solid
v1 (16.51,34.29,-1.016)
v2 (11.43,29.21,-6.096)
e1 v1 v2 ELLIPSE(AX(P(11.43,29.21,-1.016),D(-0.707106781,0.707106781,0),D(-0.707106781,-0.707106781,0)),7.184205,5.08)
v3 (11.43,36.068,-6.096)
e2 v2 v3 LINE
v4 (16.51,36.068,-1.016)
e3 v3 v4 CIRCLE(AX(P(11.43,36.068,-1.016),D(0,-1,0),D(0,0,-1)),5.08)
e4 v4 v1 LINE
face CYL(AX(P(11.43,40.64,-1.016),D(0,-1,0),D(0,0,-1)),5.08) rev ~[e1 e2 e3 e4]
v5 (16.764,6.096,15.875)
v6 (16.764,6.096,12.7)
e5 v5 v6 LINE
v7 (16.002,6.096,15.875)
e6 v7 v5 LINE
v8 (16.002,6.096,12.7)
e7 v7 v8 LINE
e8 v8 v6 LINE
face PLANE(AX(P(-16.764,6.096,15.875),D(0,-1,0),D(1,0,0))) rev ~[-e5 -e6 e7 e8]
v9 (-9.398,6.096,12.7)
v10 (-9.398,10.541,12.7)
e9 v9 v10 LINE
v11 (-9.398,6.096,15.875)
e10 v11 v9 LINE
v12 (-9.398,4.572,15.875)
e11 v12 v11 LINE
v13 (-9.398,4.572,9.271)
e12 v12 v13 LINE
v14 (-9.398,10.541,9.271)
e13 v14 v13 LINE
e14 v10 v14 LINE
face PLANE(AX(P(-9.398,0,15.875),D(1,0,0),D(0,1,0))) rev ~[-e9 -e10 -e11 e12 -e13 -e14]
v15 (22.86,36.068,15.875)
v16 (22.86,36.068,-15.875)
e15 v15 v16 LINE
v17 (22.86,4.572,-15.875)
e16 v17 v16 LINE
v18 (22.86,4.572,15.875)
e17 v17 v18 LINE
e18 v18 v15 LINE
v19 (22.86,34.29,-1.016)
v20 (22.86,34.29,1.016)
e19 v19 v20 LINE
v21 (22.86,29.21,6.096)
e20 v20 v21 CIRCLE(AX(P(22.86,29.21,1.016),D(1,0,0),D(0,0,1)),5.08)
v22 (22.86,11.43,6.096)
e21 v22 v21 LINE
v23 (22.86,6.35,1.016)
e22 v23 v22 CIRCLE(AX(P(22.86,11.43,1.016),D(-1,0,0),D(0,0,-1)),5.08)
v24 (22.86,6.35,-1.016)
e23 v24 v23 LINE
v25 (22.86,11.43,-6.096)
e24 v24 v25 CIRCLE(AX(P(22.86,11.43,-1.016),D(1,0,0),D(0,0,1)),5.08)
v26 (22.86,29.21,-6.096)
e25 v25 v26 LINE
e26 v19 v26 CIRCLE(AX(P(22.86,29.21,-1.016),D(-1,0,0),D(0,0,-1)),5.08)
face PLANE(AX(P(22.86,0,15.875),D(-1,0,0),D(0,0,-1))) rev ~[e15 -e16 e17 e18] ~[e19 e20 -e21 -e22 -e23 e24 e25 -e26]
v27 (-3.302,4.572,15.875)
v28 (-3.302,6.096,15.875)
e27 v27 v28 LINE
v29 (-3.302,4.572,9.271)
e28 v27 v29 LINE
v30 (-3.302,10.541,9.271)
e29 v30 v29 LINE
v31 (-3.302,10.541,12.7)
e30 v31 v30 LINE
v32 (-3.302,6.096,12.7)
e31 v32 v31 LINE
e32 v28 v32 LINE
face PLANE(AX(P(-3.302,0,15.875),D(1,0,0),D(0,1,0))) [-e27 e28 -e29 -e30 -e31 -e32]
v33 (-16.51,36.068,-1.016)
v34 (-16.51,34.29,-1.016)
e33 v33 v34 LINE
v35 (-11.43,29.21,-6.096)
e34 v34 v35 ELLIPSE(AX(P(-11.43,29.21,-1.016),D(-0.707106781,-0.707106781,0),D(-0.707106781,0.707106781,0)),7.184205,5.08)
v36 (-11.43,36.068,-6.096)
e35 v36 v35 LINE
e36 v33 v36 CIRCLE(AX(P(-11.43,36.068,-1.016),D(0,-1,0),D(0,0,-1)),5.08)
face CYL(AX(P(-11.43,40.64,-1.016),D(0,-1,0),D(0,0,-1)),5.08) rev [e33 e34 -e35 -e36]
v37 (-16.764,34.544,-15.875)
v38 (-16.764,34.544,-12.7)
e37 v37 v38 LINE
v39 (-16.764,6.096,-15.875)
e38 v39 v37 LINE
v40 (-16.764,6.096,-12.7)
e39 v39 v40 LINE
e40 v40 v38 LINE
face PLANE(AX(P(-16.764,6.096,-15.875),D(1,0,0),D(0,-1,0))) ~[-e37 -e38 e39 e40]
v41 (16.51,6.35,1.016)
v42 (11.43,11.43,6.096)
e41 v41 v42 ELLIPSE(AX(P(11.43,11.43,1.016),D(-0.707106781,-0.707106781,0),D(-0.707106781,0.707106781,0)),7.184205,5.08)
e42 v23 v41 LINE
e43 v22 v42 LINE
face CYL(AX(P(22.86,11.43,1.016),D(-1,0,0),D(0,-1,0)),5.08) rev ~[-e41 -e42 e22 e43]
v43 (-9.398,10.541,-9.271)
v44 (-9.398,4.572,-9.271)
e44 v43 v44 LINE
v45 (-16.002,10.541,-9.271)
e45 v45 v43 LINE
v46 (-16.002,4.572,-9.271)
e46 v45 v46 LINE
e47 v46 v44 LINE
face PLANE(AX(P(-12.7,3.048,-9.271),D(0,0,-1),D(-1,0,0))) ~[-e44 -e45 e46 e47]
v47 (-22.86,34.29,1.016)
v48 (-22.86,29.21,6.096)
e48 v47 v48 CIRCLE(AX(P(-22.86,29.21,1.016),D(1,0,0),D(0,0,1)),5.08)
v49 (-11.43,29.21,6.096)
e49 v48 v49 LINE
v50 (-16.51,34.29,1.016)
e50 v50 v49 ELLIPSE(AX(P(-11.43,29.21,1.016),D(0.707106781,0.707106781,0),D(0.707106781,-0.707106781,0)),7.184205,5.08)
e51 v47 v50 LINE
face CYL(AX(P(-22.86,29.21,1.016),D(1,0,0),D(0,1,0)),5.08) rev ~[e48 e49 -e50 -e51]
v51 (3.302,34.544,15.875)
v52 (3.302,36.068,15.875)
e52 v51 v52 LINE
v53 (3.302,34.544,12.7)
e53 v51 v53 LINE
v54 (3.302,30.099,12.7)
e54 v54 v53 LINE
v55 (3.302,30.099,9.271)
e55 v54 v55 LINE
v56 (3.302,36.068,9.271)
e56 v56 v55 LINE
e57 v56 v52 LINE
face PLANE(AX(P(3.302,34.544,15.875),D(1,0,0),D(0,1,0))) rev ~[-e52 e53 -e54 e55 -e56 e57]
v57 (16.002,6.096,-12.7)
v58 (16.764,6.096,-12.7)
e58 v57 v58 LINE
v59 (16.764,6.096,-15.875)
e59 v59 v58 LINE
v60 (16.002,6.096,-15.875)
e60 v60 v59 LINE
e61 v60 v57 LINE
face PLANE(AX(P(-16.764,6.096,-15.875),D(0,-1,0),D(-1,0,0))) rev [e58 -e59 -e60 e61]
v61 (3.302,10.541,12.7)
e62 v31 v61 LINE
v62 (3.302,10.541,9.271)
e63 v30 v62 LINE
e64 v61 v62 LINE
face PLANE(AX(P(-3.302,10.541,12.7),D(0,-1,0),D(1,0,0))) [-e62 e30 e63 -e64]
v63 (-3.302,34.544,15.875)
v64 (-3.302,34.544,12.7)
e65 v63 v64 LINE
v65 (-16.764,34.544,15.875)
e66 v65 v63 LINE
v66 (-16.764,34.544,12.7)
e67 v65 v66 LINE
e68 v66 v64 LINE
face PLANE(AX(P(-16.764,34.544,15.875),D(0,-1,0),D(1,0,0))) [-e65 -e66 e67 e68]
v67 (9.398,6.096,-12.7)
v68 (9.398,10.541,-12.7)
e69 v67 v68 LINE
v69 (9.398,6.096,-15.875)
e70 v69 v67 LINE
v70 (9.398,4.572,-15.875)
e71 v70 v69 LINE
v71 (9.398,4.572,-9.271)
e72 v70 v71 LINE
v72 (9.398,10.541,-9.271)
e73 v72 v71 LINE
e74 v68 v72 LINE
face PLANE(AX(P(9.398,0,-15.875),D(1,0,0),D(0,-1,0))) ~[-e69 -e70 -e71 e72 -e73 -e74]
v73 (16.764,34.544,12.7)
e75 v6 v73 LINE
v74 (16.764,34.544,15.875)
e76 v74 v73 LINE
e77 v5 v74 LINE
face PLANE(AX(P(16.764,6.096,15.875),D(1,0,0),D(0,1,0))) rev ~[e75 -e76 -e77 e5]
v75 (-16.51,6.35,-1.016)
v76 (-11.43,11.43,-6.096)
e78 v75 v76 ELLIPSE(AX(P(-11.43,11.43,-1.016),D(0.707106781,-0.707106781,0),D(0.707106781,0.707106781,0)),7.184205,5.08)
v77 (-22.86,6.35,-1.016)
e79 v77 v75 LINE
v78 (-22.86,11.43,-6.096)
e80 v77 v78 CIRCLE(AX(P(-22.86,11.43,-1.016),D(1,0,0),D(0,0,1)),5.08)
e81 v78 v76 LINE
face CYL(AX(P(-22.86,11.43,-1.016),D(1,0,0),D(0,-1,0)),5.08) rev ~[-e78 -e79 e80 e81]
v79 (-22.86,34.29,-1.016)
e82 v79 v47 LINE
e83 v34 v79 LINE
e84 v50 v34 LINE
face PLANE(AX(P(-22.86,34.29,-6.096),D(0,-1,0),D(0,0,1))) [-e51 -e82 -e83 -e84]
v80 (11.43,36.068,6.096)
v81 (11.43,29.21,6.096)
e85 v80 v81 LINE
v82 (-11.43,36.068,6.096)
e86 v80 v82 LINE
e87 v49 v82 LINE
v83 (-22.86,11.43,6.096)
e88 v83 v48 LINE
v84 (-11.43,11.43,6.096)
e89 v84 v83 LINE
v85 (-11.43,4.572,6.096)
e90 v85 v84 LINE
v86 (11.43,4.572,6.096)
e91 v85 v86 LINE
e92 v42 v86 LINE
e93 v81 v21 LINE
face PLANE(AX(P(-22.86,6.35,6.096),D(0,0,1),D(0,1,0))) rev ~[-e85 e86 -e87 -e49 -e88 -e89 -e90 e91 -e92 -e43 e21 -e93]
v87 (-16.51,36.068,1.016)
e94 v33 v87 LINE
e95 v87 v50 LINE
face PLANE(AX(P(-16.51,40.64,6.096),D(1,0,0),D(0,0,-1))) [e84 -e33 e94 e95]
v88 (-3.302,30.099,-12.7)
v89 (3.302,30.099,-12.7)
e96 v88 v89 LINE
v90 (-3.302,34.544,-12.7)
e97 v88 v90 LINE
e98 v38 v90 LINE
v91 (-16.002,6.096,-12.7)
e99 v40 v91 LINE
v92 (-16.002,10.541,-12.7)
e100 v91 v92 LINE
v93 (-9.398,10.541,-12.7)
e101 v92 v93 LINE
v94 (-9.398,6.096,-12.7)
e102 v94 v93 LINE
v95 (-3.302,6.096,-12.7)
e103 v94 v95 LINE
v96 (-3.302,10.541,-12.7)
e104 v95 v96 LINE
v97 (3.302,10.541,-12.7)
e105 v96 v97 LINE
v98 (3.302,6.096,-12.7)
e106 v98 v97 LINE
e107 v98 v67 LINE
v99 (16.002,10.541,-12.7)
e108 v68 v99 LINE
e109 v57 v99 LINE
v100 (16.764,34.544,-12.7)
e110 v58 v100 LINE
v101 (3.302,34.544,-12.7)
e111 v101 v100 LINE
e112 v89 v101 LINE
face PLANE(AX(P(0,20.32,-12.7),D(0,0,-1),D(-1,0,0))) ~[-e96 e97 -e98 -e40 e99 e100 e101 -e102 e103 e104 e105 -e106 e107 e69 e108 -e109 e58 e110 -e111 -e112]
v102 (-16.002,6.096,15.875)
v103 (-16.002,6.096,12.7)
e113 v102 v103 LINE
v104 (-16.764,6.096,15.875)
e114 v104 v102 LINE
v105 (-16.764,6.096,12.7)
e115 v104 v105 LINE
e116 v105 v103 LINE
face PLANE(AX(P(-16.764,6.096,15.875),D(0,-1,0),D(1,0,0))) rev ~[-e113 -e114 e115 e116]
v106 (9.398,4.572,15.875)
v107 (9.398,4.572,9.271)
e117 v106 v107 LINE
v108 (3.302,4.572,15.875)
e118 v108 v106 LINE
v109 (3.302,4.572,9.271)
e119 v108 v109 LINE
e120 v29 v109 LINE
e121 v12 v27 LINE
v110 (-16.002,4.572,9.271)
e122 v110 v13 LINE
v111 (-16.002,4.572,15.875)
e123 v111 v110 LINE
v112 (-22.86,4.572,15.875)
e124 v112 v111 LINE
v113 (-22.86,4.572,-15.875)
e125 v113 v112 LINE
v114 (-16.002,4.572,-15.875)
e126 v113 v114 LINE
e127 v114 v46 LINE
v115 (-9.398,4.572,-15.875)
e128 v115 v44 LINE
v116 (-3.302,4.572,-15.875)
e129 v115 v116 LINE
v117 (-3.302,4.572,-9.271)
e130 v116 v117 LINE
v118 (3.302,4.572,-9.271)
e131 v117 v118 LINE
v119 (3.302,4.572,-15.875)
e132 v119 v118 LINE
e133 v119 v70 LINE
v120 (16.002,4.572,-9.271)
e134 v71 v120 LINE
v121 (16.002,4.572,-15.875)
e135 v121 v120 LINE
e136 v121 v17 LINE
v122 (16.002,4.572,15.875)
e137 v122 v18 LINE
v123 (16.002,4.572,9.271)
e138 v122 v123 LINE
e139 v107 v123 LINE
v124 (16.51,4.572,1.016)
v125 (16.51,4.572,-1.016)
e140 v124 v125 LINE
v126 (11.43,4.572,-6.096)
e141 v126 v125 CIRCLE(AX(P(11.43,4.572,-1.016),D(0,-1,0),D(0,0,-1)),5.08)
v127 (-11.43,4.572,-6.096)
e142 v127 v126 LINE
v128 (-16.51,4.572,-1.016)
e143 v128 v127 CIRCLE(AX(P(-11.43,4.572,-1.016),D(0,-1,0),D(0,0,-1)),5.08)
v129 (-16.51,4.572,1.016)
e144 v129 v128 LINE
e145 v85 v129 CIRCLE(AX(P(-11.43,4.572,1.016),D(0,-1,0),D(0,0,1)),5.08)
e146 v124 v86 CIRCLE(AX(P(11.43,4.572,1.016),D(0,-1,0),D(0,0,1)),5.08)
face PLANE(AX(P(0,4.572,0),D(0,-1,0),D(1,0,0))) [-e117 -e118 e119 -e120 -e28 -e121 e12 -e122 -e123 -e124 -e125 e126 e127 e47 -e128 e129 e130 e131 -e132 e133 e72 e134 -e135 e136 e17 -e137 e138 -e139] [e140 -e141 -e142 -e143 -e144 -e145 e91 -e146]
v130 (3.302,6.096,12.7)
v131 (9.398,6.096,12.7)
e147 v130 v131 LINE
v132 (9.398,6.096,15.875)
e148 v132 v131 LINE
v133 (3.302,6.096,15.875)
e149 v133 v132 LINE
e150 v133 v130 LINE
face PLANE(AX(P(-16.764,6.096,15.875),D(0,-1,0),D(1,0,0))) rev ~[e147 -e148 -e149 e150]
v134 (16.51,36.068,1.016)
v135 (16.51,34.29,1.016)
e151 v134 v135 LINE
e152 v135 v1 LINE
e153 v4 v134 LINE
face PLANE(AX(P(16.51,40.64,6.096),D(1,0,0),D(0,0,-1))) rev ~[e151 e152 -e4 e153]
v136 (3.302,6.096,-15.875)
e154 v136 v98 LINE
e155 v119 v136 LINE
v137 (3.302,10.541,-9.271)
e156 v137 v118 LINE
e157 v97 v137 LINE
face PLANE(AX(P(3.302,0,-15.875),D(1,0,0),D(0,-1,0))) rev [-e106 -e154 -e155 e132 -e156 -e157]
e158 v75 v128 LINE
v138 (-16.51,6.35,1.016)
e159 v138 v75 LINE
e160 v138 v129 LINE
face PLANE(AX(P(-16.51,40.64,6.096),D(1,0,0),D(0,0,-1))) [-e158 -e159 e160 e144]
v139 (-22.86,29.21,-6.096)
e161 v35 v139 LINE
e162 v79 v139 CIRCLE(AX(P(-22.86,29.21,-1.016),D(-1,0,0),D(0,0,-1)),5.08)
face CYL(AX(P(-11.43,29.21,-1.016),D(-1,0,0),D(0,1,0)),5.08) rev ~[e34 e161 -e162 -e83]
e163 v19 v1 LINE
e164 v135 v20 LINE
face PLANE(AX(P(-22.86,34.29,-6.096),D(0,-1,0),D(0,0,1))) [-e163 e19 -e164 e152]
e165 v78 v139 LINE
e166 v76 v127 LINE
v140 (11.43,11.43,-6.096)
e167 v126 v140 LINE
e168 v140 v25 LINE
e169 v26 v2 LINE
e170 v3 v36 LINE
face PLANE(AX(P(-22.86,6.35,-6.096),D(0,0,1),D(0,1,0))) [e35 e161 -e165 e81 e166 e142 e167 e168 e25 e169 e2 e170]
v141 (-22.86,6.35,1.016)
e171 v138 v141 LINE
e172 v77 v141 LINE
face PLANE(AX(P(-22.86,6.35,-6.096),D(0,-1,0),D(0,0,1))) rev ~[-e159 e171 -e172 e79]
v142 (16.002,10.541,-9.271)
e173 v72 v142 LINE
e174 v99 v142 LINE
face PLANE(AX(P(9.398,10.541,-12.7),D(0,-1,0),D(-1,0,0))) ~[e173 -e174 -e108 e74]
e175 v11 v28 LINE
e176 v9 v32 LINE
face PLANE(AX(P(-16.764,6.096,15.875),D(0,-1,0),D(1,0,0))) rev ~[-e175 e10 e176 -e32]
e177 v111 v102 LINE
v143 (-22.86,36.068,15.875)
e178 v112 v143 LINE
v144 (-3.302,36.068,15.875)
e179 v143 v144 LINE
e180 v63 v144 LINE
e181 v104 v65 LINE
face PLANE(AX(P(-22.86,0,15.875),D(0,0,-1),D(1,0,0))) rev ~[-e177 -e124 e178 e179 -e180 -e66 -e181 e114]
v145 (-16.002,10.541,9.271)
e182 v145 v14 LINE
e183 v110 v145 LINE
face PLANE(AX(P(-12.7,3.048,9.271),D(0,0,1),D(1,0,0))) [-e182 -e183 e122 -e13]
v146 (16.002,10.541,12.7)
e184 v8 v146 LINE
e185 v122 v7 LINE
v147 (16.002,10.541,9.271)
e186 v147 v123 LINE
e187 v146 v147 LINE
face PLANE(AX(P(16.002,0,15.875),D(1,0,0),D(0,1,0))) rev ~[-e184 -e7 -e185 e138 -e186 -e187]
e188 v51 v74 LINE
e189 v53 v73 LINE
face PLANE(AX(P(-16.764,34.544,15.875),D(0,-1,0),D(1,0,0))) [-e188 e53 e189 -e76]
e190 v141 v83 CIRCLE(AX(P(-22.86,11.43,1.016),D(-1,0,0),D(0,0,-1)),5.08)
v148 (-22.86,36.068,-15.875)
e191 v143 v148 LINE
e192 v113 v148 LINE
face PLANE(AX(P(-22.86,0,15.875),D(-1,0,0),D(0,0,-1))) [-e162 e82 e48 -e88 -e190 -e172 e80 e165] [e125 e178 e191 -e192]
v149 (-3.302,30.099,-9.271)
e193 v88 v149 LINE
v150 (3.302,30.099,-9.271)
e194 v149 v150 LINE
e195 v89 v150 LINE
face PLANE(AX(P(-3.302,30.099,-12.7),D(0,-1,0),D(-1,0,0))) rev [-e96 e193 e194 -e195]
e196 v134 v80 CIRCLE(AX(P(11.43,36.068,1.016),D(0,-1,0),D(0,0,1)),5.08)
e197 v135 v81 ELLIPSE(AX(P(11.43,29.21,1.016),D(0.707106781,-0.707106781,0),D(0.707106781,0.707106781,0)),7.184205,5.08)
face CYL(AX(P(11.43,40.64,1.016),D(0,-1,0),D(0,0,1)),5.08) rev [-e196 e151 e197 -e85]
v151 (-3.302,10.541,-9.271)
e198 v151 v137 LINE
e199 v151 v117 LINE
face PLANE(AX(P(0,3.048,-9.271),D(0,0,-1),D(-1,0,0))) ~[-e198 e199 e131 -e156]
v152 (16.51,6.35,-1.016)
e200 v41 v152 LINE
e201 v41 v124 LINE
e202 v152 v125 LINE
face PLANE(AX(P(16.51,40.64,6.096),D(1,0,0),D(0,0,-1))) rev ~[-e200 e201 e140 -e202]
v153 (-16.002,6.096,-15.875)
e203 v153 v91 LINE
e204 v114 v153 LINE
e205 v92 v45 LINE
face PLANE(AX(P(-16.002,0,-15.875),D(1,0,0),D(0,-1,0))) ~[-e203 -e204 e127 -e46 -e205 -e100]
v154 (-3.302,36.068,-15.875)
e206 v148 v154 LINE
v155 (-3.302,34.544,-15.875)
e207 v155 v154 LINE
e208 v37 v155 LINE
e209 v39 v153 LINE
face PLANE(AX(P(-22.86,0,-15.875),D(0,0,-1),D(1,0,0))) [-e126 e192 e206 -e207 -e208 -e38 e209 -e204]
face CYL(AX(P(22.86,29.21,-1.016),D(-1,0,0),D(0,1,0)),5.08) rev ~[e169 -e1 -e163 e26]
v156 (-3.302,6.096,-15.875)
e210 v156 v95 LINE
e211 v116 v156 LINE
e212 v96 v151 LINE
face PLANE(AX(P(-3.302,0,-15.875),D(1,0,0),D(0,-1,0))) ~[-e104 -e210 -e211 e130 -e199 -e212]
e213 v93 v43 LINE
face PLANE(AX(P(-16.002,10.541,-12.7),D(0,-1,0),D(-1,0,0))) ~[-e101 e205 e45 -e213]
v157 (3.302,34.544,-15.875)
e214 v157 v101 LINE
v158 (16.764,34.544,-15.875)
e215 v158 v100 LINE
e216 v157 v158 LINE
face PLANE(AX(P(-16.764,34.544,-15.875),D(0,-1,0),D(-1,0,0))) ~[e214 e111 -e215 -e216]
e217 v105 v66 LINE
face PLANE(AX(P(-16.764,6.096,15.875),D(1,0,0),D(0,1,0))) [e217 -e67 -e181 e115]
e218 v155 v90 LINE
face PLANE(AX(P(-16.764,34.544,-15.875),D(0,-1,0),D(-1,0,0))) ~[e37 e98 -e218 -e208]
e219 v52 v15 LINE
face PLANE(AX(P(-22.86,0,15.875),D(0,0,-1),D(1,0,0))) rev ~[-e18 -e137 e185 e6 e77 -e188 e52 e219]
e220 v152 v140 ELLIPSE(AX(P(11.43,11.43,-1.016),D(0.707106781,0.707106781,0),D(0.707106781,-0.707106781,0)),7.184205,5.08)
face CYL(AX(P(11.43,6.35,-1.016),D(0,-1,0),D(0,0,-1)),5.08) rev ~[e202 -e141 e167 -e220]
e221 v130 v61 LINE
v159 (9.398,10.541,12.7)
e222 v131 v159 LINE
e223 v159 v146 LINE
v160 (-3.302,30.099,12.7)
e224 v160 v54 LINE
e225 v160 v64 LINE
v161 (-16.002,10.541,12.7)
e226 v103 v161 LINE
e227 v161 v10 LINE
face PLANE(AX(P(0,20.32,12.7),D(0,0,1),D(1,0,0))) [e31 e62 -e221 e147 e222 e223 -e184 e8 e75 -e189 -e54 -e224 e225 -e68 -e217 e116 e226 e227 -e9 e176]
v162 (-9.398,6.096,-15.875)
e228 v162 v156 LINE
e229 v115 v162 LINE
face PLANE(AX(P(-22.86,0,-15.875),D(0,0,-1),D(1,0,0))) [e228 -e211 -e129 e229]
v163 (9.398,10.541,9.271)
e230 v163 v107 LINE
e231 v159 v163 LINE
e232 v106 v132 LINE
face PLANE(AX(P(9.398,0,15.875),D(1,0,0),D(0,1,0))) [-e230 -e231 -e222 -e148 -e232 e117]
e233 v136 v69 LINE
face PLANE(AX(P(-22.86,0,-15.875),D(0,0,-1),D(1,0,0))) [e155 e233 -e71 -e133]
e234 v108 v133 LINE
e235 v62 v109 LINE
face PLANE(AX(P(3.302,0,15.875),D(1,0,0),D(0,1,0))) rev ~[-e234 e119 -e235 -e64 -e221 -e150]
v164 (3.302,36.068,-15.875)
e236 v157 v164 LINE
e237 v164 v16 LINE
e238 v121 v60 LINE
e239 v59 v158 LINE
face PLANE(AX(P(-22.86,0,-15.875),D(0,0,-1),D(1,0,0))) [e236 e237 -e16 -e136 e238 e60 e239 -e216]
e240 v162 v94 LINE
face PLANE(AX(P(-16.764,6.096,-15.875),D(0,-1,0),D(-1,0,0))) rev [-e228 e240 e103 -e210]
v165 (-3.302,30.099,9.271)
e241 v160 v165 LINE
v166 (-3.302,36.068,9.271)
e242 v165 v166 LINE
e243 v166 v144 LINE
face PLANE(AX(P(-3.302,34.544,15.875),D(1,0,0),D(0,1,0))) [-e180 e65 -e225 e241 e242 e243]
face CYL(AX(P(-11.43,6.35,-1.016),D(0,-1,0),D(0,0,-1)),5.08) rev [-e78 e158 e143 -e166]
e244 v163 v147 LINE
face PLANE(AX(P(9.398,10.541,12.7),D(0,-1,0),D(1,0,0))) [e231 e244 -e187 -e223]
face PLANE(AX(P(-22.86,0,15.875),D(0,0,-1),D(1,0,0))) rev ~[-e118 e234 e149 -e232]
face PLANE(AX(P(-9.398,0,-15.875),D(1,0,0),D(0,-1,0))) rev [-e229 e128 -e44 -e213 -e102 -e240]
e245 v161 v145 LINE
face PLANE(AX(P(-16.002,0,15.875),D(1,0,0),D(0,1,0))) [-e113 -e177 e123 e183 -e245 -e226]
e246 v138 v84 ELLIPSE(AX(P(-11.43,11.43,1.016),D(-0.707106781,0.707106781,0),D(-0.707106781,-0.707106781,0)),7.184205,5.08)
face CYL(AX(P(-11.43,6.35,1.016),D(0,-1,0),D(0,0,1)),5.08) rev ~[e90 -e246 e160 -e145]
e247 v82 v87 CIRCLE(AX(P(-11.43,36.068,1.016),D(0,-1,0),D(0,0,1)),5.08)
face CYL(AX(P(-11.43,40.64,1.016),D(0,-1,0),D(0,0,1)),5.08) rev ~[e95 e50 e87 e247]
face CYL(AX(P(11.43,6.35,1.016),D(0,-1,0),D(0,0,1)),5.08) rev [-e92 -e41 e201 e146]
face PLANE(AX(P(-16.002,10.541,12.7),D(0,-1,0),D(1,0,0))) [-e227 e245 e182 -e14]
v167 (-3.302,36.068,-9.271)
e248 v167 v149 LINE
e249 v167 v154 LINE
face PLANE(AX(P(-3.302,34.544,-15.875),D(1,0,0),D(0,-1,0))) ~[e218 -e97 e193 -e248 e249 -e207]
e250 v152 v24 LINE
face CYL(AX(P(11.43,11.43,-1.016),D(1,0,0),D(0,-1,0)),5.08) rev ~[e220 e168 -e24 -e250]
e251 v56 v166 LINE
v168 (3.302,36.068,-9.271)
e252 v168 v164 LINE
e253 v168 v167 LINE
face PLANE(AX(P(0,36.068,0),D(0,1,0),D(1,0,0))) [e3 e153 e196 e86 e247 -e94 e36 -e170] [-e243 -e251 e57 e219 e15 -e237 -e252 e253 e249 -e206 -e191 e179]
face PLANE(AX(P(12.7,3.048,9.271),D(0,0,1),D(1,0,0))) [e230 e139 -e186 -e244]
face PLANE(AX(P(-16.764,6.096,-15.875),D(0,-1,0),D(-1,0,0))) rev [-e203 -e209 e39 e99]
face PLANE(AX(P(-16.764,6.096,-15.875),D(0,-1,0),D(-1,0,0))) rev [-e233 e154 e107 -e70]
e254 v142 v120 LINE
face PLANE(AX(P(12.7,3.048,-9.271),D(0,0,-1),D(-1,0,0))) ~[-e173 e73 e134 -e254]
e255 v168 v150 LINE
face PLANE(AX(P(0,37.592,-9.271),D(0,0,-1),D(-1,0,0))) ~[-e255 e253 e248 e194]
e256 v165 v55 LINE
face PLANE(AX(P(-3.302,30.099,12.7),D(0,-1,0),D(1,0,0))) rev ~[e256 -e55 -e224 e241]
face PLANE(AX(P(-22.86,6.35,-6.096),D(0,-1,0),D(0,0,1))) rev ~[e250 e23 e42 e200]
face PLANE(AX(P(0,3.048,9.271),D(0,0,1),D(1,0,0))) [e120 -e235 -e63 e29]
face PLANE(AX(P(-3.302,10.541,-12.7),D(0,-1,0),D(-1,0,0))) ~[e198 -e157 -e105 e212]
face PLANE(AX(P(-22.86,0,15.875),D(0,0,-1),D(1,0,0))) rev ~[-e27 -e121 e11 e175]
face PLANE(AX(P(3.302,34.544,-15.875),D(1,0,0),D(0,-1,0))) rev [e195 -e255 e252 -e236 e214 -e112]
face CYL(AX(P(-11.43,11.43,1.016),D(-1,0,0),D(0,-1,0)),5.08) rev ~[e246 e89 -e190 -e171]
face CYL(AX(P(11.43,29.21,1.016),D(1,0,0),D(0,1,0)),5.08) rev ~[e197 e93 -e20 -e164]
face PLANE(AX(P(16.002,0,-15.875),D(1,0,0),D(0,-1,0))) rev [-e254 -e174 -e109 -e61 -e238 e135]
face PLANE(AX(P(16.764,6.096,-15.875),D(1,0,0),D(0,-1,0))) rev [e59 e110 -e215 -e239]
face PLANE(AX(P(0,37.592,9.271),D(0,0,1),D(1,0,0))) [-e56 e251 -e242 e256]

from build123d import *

# Parameters (mm, degrees)
SKETCH1_W           = 45.72
SKETCH1_H           = 31.75
BOSS_EXTRUDE1_DEPTH = 40.64
SKETCH2_W           = 33.528
SKETCH2_H           = 28.448
CUT_EXTRUDE1_DEPTH  = 3.175
SKETCH3_W           = 6.604
SKETCH3_H           = 6.096
CUT_EXTRUDE2_DEPTH  = 6.604
SKETCH4_W           = 6.604
SKETCH4_H           = 4.445
CUT_EXTRUDE3_DEPTH  = 3.429
SKETCH5_W           = 33.02
SKETCH5_H           = 12.192
CUT_EXTRUDE4_DEPTH  = 50.256520634
SKETCH6_W           = 12.192
SKETCH6_H           = 27.94
CUT_EXTRUDE5_DEPTH  = 64.197655218
FILLET1_R           = 5.08
FILLET2_R           = 5.08
SKETCH7_W           = 45.72
SKETCH7_H           = 31.75
CUT_EXTRUDE6_DEPTH  = 4.572
SKETCH8_W           = 45.72
SKETCH8_H           = 31.75
CUT_EXTRUDE7_DEPTH  = 4.572


with BuildPart() as part:
    # Sketch1 → Boss-Extrude1 (new body)
    with BuildSketch(Plane(origin=(0, 0, 0), x_dir=(1, 0, 0), z_dir=(0, 1, 0))):
        Rectangle(SKETCH1_W, SKETCH1_H)
    extrude(amount=BOSS_EXTRUDE1_DEPTH)

    # Sketch2 → Cut-Extrude1 (cut)
    with BuildSketch(Plane.XY.offset(15.875)):
        with Locations((0, 20.32)):
            Rectangle(SKETCH2_W, SKETCH2_H)
    cut_extrude1 = extrude(amount=-CUT_EXTRUDE1_DEPTH, mode=Mode.SUBTRACT)

    # Sketch3 → Cut-Extrude2 (cut)
    with BuildSketch(Plane.XY.offset(15.875)):
        with Locations((0, 37.592)):
            Rectangle(SKETCH3_W, SKETCH3_H)
        with Locations((0, 3.048)):
            Rectangle(SKETCH3_W, SKETCH3_H)
        with Locations((-12.7, 3.048)):
            Rectangle(SKETCH3_W, SKETCH3_H)
        with Locations((12.7, 3.048)):
            Rectangle(SKETCH3_W, SKETCH3_H)
    cut_extrude2 = extrude(amount=-CUT_EXTRUDE2_DEPTH, mode=Mode.SUBTRACT)

    # Sketch4 → Cut-Extrude3 (cut)
    with BuildSketch(Plane.XY.offset(12.7)):
        with Locations((0, 32.3215)):
            Rectangle(SKETCH4_W, SKETCH4_H)
        with Locations((-12.7, 8.3185)):
            Rectangle(SKETCH4_W, SKETCH4_H)
        with Locations((0, 8.3185)):
            Rectangle(SKETCH4_W, SKETCH4_H)
        with Locations((12.7, 8.3185)):
            Rectangle(SKETCH4_W, SKETCH4_H)
    cut_extrude3 = extrude(amount=-CUT_EXTRUDE3_DEPTH, mode=Mode.SUBTRACT)

    # Mirror1: Cut-Extrude1, Cut-Extrude2, Cut-Extrude3 across plane
    add(cut_extrude1.mirror(Plane.XY), mode=Mode.SUBTRACT)
    add(cut_extrude2.mirror(Plane.XY), mode=Mode.SUBTRACT)
    add(cut_extrude3.mirror(Plane.XY), mode=Mode.SUBTRACT)

    # Sketch5 → Cut-Extrude4 (cut, through all)
    with BuildSketch(Plane(origin=(0, 40.64, 0), x_dir=(1, 0, 0), z_dir=(0, 1, 0))):
        Rectangle(SKETCH5_W, SKETCH5_H)
    extrude(amount=-CUT_EXTRUDE4_DEPTH, mode=Mode.SUBTRACT)

    # Sketch6 → Cut-Extrude5 (cut, through all)
    with BuildSketch(Plane.ZY.offset(22.86)):
        with Locations((0, 20.32)):
            Rectangle(SKETCH6_W, SKETCH6_H)
    extrude(amount=-CUT_EXTRUDE5_DEPTH, mode=Mode.SUBTRACT)

    # Fillet1
    fillet1_edges = [part.edges().sort_by_distance(p)[0] for p in [
        (16.51, 3.175, -6.096),
        (16.51, 3.175, 6.096),
        (-16.51, 3.175, 6.096),
        (-16.51, 3.175, -6.096),
        (-16.51, 37.465, -6.096),
        (16.51, 37.465, -6.096),
        (-16.51, 37.465, 6.096),
        (16.51, 37.465, 6.096),
    ]]
    fillet(fillet1_edges, radius=FILLET1_R)

    # Fillet2
    fillet2_edges = [part.edges().sort_by_distance(p)[0] for p in [
        (-17.145, 6.35, 6.096),
        (-17.145, 6.35, -6.096),
        (-17.145, 34.29, 6.096),
        (-17.145, 34.29, -6.096),
        (17.145, 34.29, 6.096),
        (17.145, 34.29, -6.096),
        (17.145, 6.35, 6.096),
        (17.145, 6.35, -6.096),
    ]]
    fillet(fillet2_edges, radius=FILLET2_R)

    # Sketch7 → Cut-Extrude6 (cut)
    with BuildSketch(Plane(origin=(0, 40.64, 0), x_dir=(1, 0, 0), z_dir=(0, 1, 0))):
        Rectangle(SKETCH7_W, SKETCH7_H)
    extrude(amount=-CUT_EXTRUDE6_DEPTH, mode=Mode.SUBTRACT)

    # Sketch8 → Cut-Extrude7 (cut)
    with BuildSketch(Plane.XZ):
        Rectangle(SKETCH8_W, SKETCH8_H)
    extrude(amount=-CUT_EXTRUDE7_DEPTH, mode=Mode.SUBTRACT)


solid = part.part
